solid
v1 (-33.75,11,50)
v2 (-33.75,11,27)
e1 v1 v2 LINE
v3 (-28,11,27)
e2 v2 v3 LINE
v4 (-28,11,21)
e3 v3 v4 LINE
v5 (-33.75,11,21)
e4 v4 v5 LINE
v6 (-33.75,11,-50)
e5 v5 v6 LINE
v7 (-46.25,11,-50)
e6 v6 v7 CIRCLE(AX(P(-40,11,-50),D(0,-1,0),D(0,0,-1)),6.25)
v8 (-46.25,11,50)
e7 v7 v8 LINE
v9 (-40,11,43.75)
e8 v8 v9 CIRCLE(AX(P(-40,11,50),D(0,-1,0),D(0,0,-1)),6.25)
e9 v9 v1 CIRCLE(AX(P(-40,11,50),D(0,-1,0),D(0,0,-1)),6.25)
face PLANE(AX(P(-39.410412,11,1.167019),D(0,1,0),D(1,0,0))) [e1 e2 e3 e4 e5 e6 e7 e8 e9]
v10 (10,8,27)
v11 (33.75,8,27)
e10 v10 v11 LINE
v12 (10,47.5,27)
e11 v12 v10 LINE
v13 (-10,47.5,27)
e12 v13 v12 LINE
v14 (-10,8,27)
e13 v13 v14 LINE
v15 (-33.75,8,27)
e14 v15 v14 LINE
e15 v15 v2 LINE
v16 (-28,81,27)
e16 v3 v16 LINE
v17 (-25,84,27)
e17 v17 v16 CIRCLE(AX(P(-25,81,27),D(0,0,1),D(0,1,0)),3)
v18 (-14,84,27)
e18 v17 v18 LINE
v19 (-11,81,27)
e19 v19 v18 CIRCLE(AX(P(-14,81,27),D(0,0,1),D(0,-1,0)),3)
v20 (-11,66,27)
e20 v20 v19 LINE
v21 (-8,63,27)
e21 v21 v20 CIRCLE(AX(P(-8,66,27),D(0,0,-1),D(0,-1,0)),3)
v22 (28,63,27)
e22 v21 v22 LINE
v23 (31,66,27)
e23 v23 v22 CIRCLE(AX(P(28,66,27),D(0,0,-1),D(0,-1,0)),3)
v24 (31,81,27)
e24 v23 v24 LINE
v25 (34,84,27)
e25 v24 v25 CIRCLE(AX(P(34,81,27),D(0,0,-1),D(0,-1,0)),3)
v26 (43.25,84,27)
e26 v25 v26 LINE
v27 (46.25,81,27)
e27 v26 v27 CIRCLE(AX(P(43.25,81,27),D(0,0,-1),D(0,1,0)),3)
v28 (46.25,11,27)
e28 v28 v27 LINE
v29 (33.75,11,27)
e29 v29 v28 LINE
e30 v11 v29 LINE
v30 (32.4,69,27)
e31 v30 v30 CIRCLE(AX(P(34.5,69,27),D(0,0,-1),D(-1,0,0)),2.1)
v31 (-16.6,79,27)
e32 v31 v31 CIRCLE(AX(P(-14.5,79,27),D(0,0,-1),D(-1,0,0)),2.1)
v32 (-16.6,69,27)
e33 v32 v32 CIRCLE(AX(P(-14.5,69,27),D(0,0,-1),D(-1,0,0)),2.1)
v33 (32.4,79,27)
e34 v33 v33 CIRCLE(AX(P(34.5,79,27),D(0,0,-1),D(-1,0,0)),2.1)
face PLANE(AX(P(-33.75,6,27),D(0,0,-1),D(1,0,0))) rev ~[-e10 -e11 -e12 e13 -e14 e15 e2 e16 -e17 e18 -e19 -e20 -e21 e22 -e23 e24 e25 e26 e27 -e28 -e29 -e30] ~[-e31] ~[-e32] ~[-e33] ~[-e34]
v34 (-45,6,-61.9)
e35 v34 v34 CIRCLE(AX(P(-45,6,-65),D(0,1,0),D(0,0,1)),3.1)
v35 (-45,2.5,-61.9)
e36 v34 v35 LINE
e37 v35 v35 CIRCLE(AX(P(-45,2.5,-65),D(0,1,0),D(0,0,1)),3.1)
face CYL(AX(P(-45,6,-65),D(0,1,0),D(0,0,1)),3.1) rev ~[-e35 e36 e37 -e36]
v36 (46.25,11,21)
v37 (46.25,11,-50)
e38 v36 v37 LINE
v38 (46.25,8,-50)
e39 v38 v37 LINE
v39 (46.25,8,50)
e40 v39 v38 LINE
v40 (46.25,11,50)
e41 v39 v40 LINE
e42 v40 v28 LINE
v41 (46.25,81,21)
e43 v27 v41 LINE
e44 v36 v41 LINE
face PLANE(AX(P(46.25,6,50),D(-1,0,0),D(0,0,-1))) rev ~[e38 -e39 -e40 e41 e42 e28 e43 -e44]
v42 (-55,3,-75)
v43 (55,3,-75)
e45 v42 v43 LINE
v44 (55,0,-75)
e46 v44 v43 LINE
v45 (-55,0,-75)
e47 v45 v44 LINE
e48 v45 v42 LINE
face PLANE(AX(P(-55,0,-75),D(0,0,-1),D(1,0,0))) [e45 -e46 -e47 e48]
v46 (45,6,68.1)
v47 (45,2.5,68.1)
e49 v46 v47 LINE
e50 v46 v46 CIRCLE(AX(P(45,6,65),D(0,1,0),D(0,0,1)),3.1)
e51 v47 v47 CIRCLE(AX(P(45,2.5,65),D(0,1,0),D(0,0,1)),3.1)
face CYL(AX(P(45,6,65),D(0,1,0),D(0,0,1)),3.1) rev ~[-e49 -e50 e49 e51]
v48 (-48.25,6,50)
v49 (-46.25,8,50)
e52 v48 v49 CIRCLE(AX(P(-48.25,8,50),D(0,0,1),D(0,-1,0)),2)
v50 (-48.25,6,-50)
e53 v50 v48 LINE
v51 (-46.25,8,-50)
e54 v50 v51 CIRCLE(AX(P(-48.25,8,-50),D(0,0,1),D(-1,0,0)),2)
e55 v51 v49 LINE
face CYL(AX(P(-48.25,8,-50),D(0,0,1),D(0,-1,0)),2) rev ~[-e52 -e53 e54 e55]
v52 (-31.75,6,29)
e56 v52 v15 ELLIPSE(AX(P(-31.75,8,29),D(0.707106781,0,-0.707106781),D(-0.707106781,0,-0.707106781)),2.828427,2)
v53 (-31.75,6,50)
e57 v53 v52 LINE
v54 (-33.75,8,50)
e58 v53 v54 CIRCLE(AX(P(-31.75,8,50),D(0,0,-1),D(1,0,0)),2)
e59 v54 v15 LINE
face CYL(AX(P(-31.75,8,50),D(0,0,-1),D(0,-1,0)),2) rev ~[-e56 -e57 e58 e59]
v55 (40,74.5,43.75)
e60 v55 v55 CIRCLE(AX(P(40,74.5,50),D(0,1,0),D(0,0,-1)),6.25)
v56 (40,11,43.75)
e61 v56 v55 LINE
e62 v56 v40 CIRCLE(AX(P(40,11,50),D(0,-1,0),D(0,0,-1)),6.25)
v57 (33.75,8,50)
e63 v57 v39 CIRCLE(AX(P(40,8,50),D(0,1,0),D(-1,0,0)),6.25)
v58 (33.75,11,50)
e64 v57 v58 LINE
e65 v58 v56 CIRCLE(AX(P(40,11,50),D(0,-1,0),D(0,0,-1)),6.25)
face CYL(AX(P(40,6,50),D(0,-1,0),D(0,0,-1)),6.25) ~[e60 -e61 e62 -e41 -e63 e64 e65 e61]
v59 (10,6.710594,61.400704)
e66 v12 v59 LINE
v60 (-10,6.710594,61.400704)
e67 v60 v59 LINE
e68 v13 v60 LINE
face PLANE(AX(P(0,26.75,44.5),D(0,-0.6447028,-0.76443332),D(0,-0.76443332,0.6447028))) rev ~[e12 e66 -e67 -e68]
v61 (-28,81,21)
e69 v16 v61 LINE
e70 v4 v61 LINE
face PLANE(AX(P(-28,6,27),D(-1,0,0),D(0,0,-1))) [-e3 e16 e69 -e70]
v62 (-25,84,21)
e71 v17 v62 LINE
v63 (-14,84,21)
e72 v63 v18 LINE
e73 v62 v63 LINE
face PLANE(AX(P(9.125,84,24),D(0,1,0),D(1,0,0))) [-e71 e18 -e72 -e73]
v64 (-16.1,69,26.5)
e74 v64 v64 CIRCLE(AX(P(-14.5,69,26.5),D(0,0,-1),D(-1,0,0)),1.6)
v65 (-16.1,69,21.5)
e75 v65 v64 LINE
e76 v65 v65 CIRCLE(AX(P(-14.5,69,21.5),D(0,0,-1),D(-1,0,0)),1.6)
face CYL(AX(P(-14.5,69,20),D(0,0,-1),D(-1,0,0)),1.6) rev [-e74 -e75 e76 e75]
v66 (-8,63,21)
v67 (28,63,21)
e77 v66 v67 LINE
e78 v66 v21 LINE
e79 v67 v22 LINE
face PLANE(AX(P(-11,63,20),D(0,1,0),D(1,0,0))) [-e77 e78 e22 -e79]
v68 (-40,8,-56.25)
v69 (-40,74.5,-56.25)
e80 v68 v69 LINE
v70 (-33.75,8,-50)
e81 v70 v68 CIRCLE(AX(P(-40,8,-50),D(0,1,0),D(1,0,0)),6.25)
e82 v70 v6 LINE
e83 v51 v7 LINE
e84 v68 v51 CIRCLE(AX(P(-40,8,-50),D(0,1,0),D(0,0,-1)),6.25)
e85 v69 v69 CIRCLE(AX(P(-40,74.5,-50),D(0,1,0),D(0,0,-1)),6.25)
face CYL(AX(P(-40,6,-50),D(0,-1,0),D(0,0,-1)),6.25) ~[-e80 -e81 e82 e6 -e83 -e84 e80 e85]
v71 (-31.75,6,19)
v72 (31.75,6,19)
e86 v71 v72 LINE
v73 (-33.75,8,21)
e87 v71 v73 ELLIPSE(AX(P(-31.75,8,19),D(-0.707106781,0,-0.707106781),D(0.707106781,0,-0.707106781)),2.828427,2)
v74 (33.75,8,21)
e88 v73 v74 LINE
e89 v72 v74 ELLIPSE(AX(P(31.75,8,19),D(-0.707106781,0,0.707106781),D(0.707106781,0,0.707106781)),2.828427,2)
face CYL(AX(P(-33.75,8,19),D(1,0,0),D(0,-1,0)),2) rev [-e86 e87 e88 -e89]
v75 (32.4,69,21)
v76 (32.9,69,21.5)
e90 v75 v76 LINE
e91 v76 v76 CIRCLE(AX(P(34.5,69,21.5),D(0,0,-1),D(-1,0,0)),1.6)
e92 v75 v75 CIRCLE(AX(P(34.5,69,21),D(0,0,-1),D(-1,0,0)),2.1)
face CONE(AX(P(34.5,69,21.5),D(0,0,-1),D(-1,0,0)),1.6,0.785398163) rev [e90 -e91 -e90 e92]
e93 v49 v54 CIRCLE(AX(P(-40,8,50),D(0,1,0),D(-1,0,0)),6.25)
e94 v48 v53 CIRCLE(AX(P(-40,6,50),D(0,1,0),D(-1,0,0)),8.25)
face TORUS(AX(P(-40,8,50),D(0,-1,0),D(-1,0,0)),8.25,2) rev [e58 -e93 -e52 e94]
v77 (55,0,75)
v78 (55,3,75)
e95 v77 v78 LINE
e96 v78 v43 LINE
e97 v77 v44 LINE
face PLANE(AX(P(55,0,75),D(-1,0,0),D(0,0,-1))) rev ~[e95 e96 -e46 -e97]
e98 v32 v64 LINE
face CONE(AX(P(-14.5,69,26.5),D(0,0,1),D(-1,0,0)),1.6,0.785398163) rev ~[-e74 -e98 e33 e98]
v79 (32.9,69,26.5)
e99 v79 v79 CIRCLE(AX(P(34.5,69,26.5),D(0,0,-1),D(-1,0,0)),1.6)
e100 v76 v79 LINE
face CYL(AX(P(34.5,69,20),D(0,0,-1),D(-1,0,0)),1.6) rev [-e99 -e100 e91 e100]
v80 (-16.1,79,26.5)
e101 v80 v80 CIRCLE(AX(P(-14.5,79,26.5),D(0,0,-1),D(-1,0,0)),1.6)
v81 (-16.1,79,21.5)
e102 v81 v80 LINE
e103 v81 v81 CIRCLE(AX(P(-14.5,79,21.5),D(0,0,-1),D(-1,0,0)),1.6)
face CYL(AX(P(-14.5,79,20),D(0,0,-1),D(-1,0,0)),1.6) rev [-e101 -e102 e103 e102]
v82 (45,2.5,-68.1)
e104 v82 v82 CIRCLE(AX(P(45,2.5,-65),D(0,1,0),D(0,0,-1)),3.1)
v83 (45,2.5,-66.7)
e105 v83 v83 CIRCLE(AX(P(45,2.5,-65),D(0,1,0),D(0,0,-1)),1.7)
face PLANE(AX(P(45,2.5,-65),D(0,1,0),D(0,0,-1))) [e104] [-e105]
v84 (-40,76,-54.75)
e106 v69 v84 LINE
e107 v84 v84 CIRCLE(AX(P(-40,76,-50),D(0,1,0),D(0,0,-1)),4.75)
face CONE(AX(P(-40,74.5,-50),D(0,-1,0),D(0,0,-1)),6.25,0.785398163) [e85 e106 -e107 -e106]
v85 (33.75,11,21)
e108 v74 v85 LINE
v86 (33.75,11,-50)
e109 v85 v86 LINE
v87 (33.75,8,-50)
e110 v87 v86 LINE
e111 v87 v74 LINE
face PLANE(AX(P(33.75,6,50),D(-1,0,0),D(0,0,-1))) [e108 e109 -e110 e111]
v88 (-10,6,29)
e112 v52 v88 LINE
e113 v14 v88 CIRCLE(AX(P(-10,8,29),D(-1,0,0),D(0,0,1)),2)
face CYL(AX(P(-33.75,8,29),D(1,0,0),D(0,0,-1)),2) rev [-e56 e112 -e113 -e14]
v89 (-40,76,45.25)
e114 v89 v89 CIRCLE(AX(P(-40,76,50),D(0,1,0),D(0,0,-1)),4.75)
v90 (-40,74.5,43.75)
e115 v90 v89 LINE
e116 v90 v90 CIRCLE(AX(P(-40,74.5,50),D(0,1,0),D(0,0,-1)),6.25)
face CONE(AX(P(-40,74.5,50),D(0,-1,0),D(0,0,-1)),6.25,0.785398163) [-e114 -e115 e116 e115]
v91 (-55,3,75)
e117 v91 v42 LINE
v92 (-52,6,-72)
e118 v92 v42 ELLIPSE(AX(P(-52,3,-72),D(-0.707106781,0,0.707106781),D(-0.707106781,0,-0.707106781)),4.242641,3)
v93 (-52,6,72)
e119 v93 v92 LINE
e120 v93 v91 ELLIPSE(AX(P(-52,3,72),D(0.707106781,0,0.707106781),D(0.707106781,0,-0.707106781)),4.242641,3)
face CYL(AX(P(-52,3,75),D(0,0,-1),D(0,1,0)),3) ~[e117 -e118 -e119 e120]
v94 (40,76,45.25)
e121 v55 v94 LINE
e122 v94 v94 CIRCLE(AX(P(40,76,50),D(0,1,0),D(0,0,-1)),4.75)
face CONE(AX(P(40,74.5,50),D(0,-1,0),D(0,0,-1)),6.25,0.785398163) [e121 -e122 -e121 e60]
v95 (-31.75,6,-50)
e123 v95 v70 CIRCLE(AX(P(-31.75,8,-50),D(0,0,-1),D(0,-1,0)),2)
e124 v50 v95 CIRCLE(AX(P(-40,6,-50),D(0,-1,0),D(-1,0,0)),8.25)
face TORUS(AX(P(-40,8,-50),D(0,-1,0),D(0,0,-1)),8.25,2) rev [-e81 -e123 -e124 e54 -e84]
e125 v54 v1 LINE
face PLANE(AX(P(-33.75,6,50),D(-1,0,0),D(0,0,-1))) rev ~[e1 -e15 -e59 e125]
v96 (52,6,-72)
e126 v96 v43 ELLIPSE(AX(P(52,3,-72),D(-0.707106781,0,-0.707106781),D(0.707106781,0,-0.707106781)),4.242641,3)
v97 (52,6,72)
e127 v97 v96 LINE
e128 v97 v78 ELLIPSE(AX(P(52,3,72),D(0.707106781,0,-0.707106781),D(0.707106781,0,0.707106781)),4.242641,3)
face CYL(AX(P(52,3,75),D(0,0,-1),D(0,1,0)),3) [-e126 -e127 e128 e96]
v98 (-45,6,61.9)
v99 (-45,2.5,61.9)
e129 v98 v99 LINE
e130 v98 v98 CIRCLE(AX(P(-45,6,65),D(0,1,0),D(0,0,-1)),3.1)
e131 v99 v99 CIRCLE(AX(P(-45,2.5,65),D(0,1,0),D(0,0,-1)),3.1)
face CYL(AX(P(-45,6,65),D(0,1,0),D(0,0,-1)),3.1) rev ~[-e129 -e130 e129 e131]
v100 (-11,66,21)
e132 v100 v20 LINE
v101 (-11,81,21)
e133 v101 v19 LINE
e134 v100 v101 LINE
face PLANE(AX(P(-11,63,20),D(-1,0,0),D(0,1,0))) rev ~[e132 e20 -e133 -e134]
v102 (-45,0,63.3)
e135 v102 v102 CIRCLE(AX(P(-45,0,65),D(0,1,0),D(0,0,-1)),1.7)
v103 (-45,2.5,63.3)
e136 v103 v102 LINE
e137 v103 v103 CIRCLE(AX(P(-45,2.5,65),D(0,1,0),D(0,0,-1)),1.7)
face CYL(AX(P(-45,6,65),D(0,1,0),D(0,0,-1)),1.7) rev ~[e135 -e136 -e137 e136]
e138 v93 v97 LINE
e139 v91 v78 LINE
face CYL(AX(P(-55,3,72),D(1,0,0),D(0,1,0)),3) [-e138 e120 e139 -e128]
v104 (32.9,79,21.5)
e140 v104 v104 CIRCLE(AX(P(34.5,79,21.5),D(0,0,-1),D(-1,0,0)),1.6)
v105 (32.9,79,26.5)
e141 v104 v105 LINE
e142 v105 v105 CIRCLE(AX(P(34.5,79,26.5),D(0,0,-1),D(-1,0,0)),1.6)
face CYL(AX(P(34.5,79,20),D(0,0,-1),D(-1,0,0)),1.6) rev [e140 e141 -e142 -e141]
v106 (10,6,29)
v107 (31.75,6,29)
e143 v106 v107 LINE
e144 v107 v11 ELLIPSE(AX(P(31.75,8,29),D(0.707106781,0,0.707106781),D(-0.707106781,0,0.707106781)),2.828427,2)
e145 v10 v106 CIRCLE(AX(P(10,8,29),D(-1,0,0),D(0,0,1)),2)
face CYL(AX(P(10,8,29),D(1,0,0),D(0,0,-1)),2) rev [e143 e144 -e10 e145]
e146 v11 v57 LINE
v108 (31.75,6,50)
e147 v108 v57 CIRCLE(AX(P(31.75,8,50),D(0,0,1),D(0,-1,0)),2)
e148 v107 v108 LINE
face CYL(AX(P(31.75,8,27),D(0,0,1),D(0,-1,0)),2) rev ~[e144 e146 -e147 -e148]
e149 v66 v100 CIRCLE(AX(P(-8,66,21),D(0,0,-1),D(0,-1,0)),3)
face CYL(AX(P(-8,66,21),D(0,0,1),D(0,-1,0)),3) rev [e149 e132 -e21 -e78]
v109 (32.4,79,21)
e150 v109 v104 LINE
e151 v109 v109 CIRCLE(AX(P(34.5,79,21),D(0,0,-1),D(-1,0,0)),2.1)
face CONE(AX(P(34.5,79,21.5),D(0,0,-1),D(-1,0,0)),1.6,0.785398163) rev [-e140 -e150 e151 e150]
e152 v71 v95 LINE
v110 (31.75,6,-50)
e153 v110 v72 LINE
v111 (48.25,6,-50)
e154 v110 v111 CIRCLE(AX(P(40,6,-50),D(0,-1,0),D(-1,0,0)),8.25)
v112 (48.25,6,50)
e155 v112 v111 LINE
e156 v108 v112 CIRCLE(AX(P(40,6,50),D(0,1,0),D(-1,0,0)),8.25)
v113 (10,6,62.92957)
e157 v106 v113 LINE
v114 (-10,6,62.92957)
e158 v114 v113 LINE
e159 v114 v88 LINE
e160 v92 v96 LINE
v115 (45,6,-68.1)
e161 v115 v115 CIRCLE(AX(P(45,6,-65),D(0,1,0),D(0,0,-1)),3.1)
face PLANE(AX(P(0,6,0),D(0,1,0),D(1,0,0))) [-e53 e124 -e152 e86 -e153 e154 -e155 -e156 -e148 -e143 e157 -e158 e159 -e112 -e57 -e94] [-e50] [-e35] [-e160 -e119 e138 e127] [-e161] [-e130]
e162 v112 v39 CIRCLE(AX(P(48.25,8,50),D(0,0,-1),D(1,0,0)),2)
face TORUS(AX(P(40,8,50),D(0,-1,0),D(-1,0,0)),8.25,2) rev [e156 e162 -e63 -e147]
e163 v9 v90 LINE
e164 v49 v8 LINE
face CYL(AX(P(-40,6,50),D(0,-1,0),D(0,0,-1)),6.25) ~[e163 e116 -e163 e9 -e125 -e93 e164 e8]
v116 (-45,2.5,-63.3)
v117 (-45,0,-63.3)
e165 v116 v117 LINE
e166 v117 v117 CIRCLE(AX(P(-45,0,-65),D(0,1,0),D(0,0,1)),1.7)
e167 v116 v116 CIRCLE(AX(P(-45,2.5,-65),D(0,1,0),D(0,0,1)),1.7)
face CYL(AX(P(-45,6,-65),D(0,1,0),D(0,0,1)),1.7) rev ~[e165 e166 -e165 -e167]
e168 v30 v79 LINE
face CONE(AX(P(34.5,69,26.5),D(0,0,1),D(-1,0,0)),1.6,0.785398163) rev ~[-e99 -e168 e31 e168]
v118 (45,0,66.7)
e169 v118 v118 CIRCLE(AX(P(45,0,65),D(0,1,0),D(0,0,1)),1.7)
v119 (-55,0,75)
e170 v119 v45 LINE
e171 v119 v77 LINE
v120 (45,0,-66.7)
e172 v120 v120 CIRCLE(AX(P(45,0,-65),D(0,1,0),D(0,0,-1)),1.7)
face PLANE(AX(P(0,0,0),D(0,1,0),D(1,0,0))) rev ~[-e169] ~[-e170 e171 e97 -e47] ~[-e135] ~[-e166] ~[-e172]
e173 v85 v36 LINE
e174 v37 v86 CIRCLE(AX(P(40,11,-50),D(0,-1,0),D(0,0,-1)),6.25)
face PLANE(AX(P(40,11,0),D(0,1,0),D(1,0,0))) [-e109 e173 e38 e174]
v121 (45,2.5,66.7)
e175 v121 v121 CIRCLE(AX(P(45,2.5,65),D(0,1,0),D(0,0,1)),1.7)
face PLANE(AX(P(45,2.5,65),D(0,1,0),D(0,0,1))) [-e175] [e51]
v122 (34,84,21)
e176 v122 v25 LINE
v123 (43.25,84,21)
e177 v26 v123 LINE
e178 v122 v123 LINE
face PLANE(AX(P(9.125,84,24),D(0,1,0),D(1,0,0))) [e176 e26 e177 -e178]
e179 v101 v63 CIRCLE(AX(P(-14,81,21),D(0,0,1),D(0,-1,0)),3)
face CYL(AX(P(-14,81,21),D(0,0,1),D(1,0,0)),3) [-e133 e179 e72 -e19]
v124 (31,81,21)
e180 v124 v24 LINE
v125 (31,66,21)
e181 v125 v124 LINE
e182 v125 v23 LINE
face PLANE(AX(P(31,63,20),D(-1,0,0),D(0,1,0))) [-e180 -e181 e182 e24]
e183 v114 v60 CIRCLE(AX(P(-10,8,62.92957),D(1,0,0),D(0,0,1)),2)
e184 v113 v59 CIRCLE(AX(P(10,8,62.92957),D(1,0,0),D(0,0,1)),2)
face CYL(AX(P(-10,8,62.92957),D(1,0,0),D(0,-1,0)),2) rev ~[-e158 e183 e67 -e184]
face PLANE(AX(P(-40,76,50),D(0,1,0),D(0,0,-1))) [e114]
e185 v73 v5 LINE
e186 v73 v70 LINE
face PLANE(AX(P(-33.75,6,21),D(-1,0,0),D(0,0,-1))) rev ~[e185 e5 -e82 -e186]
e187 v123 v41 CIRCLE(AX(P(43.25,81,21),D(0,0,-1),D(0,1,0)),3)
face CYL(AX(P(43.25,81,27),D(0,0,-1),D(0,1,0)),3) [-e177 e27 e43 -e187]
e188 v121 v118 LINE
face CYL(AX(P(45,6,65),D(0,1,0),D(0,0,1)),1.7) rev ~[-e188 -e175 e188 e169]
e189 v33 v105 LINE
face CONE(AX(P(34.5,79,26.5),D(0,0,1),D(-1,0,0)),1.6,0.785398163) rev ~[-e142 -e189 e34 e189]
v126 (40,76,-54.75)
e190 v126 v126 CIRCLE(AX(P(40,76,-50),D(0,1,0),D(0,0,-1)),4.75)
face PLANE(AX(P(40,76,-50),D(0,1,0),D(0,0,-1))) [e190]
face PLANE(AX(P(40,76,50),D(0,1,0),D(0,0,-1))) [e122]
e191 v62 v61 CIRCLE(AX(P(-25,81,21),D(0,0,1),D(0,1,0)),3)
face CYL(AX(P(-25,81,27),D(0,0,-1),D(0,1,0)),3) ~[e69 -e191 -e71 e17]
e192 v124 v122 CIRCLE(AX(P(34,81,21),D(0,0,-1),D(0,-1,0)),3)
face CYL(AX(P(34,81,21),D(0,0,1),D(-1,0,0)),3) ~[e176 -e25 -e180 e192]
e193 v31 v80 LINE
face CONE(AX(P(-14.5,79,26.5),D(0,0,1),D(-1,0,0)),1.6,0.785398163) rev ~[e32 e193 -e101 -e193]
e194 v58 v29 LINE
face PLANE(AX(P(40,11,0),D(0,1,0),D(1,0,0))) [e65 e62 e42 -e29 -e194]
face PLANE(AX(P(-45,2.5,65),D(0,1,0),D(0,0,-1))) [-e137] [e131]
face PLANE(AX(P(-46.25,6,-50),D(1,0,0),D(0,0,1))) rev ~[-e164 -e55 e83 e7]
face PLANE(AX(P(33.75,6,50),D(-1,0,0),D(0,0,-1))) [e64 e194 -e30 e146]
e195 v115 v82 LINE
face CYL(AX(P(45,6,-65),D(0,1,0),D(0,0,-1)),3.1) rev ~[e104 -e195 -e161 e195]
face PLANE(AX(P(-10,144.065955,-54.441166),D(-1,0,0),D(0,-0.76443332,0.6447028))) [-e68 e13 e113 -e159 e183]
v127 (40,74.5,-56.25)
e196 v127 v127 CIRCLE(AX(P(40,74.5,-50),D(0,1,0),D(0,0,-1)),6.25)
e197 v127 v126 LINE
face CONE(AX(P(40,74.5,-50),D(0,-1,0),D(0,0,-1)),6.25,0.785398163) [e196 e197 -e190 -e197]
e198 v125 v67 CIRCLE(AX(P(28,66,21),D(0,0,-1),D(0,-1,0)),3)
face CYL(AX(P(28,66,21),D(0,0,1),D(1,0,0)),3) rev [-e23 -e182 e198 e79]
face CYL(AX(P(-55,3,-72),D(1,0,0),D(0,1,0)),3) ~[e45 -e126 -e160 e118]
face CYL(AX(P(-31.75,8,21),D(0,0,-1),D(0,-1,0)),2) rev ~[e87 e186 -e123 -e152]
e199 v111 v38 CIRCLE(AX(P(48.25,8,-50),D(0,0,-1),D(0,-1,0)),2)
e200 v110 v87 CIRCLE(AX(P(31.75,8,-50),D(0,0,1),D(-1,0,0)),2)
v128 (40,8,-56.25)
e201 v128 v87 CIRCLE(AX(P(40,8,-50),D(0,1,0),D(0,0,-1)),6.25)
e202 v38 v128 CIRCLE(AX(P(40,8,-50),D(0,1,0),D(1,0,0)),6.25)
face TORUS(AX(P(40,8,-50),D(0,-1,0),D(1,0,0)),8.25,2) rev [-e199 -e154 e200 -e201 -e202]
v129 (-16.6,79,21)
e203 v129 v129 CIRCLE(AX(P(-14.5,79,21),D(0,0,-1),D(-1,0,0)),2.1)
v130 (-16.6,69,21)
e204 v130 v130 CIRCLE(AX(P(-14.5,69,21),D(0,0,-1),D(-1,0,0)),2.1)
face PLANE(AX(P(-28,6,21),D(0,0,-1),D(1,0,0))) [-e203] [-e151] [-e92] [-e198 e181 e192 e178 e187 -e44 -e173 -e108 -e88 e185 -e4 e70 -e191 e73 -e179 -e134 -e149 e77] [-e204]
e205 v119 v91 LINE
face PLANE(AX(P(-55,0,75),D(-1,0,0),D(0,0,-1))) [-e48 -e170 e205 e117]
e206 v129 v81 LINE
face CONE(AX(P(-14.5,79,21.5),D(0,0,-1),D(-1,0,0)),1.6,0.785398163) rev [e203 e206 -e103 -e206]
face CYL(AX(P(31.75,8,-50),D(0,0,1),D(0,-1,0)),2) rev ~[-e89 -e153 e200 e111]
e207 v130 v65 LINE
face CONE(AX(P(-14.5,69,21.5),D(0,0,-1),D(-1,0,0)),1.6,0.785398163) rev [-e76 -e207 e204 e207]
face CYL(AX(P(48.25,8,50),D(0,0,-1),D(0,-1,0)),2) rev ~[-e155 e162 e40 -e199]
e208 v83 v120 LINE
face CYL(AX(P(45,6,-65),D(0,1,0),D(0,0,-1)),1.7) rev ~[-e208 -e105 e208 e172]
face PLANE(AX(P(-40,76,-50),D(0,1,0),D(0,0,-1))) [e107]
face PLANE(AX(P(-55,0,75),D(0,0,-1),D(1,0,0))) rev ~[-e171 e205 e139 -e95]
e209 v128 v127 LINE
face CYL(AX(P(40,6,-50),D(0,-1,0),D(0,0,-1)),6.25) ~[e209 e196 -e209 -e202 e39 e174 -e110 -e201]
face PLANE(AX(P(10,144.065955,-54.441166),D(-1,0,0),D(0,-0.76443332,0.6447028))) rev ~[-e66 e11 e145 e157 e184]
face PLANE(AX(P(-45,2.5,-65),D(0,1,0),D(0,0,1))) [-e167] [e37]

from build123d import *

# Parameters (mm, degrees)
SKETCH_1_W               = 110
SKETCH_1_H               = 150
EXTRUDE_1_DEPTH          = 6
SKETCH_2_R               = 6.25
EXTRUDE_2_DEPTH          = 70
SKETCH_3_R               = 1.7
CUT_EXTRUDE_1_DEPTH      = 117.404467268
SKETCH_4_R               = 3.1
CUT_EXTRUDE_2_DEPTH      = 3.5
SKETCH_5_W               = 74.25
SKETCH_5_H               = 6
EXTRUDE_3_DEPTH          = 78
CUT_EXTRUDE_8_DEPTH      = 5
CUT_EXTRUDE_8_DEPTH_BACK = 7
SKETCH_7_R               = 1.6
SKETCH_7_W               = 42
SKETCH_7_H               = 21
SKETCH_10_W              = 12.5
SKETCH_10_H              = 100
EXTRUDE_4_DEPTH          = 5
RIB_3_REACH              = 127.324
SKETCH_8_WALL_W          = 306.935743114
SKETCH_8_WALL_H          = 20
FILLET_5_R               = 2
FILLET_4_R               = 3
CHAMFER_1_SIZE           = 1.5
CHAMFER_2_SIZE           = 0.5


with BuildPart() as part:
    # 草图1 → 凸台-拉伸1 (new body)
    with BuildSketch(Plane(origin=(0, 0, 0), x_dir=(1, 0, 0), z_dir=(0, 1, 0))):
        Rectangle(SKETCH_1_W, SKETCH_1_H)
    extrude(amount=EXTRUDE_1_DEPTH)

    # 草图2 → 凸台-拉伸2 (add)
    with BuildSketch(Plane(origin=(0, 6, 0), x_dir=(1, 0, 0), z_dir=(0, 1, 0))):
        with Locations(Location((-40, 50, 0), (0, 0, 90))):
            Circle(SKETCH_2_R)
        with Locations(Location((40, 50, 0), (0, 0, 90))):
            Circle(SKETCH_2_R)
        with Locations(Location((40, -50, 0), (0, 0, 90))):
            Circle(SKETCH_2_R)
        with Locations(Location((-40, -50, 0), (0, 0, 90))):
            Circle(SKETCH_2_R)
    extrude(amount=EXTRUDE_2_DEPTH)

    # 草图3 → 切除-拉伸1 (cut, through all)
    with BuildSketch(Plane(origin=(0, 6, 0), x_dir=(1, 0, 0), z_dir=(0, 1, 0))):
        with Locations(Location((-45, 65, 0), (0, 0, 270))):
            Circle(SKETCH_3_R)
        with Locations(Location((-45, -65, 0), (0, 0, 90))):
            Circle(SKETCH_3_R)
        with Locations(Location((45, -65, 0), (0, 0, 270))):
            Circle(SKETCH_3_R)
        with Locations(Location((45, 65, 0), (0, 0, 90))):
            Circle(SKETCH_3_R)
    extrude(amount=-CUT_EXTRUDE_1_DEPTH, mode=Mode.SUBTRACT)

    # 草图4 → 切除-拉伸2 (cut)
    with BuildSketch(Plane(origin=(0, 6, 0), x_dir=(1, 0, 0), z_dir=(0, 1, 0))):
        with Locations(Location((-45, 65, 0), (0, 0, 270))):
            Circle(SKETCH_4_R)
        with Locations(Location((45, 65, 0), (0, 0, 90))):
            Circle(SKETCH_4_R)
        with Locations(Location((45, -65, 0), (0, 0, 270))):
            Circle(SKETCH_4_R)
        with Locations(Location((-45, -65, 0), (0, 0, 90))):
            Circle(SKETCH_4_R)
    extrude(amount=-CUT_EXTRUDE_2_DEPTH, mode=Mode.SUBTRACT)

    # 草图5 → 凸台-拉伸3 (add)
    with BuildSketch(Plane(origin=(0, 6, 0), x_dir=(1, 0, 0), z_dir=(0, 1, 0))):
        with Locations((9.125, -24)):
            Rectangle(SKETCH_5_W, SKETCH_5_H)
    extrude(amount=EXTRUDE_3_DEPTH)

    # 草图7 → 切除-拉伸8 (cut, two sides: drawn at the far end of the back side and taken through both)
    with BuildSketch(Plane.XY.offset(27).offset(-CUT_EXTRUDE_8_DEPTH_BACK)):
        with Locations(Location((-14.5, 69, 0), (0, 0, 180))):
            Circle(SKETCH_7_R)
        with Locations(Location((-14.5, 79, 0), (0, 0, 180))):
            Circle(SKETCH_7_R)
        with Locations(Location((34.5, 69, 0), (0, 0, 180))):
            Circle(SKETCH_7_R)
        with Locations(Location((34.5, 79, 0), (0, 0, 180))):
            Circle(SKETCH_7_R)
        with Locations((10, 73.5)):
            Rectangle(SKETCH_7_W, SKETCH_7_H)
    extrude(amount=CUT_EXTRUDE_8_DEPTH + CUT_EXTRUDE_8_DEPTH_BACK, mode=Mode.SUBTRACT)

    # 草图10 → 凸台-拉伸4 (add)
    with BuildSketch(Plane(origin=(0, 6, 0), x_dir=(1, 0, 0), z_dir=(0, 1, 0))):
        Polygon((-33.75, -50), (-33.75, -27), (-28, -27), (-28, -21), (-33.75, -21), (-33.75, 50), (-46.25, 50), (-46.25, -50), align=None)
        with Locations((40, 0)):
            Rectangle(SKETCH_10_W, SKETCH_10_H)
    extrude(amount=EXTRUDE_4_DEPTH)

    # 草图8 wall → 筋3 (add, up to next)
    with BuildSketch(Plane(origin=(0, 26.75, 44.5), x_dir=(0, -0.764433319597, 0.64470279966), z_dir=(0, -0.64470279966, -0.764433319597)), mode=Mode.PRIVATE) as rib_3_sk1:
        Rectangle(SKETCH_8_WALL_W, SKETCH_8_WALL_H)
    rib_3_tool1 = extrude(rib_3_sk1.sketch, amount=RIB_3_REACH, mode=Mode.PRIVATE) - part.part
    add(rib_3_tool1.solids().sort_by_distance((0, 26.75, 44.5))[0])

    # 圆角5
    fillet_5_edges = [part.edges().sort_by_distance(p)[0] for p in [
        (35.580582618, 6, -54.419417382),
        (-44.419417382, 6, -54.419417382),
        (0, 6, 21),
        (40, 6, 56.25),
        (-46.25, 6, 0),
        (-33.75, 6, 38.5),
        (-33.75, 6, -14.5),
        (-40, 6, 56.25),
        (33.75, 6, 38.5),
        (33.75, 6, -14.5),
        (21.875, 6, 27),
        (0, 6, 62),
        (-21.875, 6, 27),
        (46.25, 6, 0),
    ]]
    fillet(fillet_5_edges, radius=FILLET_5_R)

    # 圆角4
    fillet_4_edges = [part.edges().sort_by_distance(p)[0] for p in [
        (-11, 63, 24),
        (31, 63, 24),
        (0, 6, 75),
        (-55, 6, 0),
        (0, 6, -75),
        (-28, 84, 24),
        (46.25, 84, 24),
        (55, 6, 0),
        (31, 84, 24),
        (-11, 84, 24),
    ]]
    fillet(fillet_4_edges, radius=FILLET_4_R)

    # 倒角1
    chamfer_1_edges = [part.edges().sort_by_distance(p)[0] for p in [
        (-40, 76, 56.25),
        (40, 76, 56.25),
        (40, 76, -43.75),
        (-40, 76, -43.75),
    ]]
    chamfer(chamfer_1_edges, length=CHAMFER_1_SIZE)

    # 倒角2
    chamfer_2_edges = [part.edges().sort_by_distance(p)[0] for p in [
        (36.1, 79, 27),
        (36.1, 79, 21),
        (36.1, 69, 27),
        (36.1, 69, 21),
        (-12.9, 79, 27),
        (-12.9, 79, 21),
        (-12.9, 69, 27),
        (-12.9, 69, 21),
    ]]
    chamfer(chamfer_2_edges, length=CHAMFER_2_SIZE)


solid = part.part
